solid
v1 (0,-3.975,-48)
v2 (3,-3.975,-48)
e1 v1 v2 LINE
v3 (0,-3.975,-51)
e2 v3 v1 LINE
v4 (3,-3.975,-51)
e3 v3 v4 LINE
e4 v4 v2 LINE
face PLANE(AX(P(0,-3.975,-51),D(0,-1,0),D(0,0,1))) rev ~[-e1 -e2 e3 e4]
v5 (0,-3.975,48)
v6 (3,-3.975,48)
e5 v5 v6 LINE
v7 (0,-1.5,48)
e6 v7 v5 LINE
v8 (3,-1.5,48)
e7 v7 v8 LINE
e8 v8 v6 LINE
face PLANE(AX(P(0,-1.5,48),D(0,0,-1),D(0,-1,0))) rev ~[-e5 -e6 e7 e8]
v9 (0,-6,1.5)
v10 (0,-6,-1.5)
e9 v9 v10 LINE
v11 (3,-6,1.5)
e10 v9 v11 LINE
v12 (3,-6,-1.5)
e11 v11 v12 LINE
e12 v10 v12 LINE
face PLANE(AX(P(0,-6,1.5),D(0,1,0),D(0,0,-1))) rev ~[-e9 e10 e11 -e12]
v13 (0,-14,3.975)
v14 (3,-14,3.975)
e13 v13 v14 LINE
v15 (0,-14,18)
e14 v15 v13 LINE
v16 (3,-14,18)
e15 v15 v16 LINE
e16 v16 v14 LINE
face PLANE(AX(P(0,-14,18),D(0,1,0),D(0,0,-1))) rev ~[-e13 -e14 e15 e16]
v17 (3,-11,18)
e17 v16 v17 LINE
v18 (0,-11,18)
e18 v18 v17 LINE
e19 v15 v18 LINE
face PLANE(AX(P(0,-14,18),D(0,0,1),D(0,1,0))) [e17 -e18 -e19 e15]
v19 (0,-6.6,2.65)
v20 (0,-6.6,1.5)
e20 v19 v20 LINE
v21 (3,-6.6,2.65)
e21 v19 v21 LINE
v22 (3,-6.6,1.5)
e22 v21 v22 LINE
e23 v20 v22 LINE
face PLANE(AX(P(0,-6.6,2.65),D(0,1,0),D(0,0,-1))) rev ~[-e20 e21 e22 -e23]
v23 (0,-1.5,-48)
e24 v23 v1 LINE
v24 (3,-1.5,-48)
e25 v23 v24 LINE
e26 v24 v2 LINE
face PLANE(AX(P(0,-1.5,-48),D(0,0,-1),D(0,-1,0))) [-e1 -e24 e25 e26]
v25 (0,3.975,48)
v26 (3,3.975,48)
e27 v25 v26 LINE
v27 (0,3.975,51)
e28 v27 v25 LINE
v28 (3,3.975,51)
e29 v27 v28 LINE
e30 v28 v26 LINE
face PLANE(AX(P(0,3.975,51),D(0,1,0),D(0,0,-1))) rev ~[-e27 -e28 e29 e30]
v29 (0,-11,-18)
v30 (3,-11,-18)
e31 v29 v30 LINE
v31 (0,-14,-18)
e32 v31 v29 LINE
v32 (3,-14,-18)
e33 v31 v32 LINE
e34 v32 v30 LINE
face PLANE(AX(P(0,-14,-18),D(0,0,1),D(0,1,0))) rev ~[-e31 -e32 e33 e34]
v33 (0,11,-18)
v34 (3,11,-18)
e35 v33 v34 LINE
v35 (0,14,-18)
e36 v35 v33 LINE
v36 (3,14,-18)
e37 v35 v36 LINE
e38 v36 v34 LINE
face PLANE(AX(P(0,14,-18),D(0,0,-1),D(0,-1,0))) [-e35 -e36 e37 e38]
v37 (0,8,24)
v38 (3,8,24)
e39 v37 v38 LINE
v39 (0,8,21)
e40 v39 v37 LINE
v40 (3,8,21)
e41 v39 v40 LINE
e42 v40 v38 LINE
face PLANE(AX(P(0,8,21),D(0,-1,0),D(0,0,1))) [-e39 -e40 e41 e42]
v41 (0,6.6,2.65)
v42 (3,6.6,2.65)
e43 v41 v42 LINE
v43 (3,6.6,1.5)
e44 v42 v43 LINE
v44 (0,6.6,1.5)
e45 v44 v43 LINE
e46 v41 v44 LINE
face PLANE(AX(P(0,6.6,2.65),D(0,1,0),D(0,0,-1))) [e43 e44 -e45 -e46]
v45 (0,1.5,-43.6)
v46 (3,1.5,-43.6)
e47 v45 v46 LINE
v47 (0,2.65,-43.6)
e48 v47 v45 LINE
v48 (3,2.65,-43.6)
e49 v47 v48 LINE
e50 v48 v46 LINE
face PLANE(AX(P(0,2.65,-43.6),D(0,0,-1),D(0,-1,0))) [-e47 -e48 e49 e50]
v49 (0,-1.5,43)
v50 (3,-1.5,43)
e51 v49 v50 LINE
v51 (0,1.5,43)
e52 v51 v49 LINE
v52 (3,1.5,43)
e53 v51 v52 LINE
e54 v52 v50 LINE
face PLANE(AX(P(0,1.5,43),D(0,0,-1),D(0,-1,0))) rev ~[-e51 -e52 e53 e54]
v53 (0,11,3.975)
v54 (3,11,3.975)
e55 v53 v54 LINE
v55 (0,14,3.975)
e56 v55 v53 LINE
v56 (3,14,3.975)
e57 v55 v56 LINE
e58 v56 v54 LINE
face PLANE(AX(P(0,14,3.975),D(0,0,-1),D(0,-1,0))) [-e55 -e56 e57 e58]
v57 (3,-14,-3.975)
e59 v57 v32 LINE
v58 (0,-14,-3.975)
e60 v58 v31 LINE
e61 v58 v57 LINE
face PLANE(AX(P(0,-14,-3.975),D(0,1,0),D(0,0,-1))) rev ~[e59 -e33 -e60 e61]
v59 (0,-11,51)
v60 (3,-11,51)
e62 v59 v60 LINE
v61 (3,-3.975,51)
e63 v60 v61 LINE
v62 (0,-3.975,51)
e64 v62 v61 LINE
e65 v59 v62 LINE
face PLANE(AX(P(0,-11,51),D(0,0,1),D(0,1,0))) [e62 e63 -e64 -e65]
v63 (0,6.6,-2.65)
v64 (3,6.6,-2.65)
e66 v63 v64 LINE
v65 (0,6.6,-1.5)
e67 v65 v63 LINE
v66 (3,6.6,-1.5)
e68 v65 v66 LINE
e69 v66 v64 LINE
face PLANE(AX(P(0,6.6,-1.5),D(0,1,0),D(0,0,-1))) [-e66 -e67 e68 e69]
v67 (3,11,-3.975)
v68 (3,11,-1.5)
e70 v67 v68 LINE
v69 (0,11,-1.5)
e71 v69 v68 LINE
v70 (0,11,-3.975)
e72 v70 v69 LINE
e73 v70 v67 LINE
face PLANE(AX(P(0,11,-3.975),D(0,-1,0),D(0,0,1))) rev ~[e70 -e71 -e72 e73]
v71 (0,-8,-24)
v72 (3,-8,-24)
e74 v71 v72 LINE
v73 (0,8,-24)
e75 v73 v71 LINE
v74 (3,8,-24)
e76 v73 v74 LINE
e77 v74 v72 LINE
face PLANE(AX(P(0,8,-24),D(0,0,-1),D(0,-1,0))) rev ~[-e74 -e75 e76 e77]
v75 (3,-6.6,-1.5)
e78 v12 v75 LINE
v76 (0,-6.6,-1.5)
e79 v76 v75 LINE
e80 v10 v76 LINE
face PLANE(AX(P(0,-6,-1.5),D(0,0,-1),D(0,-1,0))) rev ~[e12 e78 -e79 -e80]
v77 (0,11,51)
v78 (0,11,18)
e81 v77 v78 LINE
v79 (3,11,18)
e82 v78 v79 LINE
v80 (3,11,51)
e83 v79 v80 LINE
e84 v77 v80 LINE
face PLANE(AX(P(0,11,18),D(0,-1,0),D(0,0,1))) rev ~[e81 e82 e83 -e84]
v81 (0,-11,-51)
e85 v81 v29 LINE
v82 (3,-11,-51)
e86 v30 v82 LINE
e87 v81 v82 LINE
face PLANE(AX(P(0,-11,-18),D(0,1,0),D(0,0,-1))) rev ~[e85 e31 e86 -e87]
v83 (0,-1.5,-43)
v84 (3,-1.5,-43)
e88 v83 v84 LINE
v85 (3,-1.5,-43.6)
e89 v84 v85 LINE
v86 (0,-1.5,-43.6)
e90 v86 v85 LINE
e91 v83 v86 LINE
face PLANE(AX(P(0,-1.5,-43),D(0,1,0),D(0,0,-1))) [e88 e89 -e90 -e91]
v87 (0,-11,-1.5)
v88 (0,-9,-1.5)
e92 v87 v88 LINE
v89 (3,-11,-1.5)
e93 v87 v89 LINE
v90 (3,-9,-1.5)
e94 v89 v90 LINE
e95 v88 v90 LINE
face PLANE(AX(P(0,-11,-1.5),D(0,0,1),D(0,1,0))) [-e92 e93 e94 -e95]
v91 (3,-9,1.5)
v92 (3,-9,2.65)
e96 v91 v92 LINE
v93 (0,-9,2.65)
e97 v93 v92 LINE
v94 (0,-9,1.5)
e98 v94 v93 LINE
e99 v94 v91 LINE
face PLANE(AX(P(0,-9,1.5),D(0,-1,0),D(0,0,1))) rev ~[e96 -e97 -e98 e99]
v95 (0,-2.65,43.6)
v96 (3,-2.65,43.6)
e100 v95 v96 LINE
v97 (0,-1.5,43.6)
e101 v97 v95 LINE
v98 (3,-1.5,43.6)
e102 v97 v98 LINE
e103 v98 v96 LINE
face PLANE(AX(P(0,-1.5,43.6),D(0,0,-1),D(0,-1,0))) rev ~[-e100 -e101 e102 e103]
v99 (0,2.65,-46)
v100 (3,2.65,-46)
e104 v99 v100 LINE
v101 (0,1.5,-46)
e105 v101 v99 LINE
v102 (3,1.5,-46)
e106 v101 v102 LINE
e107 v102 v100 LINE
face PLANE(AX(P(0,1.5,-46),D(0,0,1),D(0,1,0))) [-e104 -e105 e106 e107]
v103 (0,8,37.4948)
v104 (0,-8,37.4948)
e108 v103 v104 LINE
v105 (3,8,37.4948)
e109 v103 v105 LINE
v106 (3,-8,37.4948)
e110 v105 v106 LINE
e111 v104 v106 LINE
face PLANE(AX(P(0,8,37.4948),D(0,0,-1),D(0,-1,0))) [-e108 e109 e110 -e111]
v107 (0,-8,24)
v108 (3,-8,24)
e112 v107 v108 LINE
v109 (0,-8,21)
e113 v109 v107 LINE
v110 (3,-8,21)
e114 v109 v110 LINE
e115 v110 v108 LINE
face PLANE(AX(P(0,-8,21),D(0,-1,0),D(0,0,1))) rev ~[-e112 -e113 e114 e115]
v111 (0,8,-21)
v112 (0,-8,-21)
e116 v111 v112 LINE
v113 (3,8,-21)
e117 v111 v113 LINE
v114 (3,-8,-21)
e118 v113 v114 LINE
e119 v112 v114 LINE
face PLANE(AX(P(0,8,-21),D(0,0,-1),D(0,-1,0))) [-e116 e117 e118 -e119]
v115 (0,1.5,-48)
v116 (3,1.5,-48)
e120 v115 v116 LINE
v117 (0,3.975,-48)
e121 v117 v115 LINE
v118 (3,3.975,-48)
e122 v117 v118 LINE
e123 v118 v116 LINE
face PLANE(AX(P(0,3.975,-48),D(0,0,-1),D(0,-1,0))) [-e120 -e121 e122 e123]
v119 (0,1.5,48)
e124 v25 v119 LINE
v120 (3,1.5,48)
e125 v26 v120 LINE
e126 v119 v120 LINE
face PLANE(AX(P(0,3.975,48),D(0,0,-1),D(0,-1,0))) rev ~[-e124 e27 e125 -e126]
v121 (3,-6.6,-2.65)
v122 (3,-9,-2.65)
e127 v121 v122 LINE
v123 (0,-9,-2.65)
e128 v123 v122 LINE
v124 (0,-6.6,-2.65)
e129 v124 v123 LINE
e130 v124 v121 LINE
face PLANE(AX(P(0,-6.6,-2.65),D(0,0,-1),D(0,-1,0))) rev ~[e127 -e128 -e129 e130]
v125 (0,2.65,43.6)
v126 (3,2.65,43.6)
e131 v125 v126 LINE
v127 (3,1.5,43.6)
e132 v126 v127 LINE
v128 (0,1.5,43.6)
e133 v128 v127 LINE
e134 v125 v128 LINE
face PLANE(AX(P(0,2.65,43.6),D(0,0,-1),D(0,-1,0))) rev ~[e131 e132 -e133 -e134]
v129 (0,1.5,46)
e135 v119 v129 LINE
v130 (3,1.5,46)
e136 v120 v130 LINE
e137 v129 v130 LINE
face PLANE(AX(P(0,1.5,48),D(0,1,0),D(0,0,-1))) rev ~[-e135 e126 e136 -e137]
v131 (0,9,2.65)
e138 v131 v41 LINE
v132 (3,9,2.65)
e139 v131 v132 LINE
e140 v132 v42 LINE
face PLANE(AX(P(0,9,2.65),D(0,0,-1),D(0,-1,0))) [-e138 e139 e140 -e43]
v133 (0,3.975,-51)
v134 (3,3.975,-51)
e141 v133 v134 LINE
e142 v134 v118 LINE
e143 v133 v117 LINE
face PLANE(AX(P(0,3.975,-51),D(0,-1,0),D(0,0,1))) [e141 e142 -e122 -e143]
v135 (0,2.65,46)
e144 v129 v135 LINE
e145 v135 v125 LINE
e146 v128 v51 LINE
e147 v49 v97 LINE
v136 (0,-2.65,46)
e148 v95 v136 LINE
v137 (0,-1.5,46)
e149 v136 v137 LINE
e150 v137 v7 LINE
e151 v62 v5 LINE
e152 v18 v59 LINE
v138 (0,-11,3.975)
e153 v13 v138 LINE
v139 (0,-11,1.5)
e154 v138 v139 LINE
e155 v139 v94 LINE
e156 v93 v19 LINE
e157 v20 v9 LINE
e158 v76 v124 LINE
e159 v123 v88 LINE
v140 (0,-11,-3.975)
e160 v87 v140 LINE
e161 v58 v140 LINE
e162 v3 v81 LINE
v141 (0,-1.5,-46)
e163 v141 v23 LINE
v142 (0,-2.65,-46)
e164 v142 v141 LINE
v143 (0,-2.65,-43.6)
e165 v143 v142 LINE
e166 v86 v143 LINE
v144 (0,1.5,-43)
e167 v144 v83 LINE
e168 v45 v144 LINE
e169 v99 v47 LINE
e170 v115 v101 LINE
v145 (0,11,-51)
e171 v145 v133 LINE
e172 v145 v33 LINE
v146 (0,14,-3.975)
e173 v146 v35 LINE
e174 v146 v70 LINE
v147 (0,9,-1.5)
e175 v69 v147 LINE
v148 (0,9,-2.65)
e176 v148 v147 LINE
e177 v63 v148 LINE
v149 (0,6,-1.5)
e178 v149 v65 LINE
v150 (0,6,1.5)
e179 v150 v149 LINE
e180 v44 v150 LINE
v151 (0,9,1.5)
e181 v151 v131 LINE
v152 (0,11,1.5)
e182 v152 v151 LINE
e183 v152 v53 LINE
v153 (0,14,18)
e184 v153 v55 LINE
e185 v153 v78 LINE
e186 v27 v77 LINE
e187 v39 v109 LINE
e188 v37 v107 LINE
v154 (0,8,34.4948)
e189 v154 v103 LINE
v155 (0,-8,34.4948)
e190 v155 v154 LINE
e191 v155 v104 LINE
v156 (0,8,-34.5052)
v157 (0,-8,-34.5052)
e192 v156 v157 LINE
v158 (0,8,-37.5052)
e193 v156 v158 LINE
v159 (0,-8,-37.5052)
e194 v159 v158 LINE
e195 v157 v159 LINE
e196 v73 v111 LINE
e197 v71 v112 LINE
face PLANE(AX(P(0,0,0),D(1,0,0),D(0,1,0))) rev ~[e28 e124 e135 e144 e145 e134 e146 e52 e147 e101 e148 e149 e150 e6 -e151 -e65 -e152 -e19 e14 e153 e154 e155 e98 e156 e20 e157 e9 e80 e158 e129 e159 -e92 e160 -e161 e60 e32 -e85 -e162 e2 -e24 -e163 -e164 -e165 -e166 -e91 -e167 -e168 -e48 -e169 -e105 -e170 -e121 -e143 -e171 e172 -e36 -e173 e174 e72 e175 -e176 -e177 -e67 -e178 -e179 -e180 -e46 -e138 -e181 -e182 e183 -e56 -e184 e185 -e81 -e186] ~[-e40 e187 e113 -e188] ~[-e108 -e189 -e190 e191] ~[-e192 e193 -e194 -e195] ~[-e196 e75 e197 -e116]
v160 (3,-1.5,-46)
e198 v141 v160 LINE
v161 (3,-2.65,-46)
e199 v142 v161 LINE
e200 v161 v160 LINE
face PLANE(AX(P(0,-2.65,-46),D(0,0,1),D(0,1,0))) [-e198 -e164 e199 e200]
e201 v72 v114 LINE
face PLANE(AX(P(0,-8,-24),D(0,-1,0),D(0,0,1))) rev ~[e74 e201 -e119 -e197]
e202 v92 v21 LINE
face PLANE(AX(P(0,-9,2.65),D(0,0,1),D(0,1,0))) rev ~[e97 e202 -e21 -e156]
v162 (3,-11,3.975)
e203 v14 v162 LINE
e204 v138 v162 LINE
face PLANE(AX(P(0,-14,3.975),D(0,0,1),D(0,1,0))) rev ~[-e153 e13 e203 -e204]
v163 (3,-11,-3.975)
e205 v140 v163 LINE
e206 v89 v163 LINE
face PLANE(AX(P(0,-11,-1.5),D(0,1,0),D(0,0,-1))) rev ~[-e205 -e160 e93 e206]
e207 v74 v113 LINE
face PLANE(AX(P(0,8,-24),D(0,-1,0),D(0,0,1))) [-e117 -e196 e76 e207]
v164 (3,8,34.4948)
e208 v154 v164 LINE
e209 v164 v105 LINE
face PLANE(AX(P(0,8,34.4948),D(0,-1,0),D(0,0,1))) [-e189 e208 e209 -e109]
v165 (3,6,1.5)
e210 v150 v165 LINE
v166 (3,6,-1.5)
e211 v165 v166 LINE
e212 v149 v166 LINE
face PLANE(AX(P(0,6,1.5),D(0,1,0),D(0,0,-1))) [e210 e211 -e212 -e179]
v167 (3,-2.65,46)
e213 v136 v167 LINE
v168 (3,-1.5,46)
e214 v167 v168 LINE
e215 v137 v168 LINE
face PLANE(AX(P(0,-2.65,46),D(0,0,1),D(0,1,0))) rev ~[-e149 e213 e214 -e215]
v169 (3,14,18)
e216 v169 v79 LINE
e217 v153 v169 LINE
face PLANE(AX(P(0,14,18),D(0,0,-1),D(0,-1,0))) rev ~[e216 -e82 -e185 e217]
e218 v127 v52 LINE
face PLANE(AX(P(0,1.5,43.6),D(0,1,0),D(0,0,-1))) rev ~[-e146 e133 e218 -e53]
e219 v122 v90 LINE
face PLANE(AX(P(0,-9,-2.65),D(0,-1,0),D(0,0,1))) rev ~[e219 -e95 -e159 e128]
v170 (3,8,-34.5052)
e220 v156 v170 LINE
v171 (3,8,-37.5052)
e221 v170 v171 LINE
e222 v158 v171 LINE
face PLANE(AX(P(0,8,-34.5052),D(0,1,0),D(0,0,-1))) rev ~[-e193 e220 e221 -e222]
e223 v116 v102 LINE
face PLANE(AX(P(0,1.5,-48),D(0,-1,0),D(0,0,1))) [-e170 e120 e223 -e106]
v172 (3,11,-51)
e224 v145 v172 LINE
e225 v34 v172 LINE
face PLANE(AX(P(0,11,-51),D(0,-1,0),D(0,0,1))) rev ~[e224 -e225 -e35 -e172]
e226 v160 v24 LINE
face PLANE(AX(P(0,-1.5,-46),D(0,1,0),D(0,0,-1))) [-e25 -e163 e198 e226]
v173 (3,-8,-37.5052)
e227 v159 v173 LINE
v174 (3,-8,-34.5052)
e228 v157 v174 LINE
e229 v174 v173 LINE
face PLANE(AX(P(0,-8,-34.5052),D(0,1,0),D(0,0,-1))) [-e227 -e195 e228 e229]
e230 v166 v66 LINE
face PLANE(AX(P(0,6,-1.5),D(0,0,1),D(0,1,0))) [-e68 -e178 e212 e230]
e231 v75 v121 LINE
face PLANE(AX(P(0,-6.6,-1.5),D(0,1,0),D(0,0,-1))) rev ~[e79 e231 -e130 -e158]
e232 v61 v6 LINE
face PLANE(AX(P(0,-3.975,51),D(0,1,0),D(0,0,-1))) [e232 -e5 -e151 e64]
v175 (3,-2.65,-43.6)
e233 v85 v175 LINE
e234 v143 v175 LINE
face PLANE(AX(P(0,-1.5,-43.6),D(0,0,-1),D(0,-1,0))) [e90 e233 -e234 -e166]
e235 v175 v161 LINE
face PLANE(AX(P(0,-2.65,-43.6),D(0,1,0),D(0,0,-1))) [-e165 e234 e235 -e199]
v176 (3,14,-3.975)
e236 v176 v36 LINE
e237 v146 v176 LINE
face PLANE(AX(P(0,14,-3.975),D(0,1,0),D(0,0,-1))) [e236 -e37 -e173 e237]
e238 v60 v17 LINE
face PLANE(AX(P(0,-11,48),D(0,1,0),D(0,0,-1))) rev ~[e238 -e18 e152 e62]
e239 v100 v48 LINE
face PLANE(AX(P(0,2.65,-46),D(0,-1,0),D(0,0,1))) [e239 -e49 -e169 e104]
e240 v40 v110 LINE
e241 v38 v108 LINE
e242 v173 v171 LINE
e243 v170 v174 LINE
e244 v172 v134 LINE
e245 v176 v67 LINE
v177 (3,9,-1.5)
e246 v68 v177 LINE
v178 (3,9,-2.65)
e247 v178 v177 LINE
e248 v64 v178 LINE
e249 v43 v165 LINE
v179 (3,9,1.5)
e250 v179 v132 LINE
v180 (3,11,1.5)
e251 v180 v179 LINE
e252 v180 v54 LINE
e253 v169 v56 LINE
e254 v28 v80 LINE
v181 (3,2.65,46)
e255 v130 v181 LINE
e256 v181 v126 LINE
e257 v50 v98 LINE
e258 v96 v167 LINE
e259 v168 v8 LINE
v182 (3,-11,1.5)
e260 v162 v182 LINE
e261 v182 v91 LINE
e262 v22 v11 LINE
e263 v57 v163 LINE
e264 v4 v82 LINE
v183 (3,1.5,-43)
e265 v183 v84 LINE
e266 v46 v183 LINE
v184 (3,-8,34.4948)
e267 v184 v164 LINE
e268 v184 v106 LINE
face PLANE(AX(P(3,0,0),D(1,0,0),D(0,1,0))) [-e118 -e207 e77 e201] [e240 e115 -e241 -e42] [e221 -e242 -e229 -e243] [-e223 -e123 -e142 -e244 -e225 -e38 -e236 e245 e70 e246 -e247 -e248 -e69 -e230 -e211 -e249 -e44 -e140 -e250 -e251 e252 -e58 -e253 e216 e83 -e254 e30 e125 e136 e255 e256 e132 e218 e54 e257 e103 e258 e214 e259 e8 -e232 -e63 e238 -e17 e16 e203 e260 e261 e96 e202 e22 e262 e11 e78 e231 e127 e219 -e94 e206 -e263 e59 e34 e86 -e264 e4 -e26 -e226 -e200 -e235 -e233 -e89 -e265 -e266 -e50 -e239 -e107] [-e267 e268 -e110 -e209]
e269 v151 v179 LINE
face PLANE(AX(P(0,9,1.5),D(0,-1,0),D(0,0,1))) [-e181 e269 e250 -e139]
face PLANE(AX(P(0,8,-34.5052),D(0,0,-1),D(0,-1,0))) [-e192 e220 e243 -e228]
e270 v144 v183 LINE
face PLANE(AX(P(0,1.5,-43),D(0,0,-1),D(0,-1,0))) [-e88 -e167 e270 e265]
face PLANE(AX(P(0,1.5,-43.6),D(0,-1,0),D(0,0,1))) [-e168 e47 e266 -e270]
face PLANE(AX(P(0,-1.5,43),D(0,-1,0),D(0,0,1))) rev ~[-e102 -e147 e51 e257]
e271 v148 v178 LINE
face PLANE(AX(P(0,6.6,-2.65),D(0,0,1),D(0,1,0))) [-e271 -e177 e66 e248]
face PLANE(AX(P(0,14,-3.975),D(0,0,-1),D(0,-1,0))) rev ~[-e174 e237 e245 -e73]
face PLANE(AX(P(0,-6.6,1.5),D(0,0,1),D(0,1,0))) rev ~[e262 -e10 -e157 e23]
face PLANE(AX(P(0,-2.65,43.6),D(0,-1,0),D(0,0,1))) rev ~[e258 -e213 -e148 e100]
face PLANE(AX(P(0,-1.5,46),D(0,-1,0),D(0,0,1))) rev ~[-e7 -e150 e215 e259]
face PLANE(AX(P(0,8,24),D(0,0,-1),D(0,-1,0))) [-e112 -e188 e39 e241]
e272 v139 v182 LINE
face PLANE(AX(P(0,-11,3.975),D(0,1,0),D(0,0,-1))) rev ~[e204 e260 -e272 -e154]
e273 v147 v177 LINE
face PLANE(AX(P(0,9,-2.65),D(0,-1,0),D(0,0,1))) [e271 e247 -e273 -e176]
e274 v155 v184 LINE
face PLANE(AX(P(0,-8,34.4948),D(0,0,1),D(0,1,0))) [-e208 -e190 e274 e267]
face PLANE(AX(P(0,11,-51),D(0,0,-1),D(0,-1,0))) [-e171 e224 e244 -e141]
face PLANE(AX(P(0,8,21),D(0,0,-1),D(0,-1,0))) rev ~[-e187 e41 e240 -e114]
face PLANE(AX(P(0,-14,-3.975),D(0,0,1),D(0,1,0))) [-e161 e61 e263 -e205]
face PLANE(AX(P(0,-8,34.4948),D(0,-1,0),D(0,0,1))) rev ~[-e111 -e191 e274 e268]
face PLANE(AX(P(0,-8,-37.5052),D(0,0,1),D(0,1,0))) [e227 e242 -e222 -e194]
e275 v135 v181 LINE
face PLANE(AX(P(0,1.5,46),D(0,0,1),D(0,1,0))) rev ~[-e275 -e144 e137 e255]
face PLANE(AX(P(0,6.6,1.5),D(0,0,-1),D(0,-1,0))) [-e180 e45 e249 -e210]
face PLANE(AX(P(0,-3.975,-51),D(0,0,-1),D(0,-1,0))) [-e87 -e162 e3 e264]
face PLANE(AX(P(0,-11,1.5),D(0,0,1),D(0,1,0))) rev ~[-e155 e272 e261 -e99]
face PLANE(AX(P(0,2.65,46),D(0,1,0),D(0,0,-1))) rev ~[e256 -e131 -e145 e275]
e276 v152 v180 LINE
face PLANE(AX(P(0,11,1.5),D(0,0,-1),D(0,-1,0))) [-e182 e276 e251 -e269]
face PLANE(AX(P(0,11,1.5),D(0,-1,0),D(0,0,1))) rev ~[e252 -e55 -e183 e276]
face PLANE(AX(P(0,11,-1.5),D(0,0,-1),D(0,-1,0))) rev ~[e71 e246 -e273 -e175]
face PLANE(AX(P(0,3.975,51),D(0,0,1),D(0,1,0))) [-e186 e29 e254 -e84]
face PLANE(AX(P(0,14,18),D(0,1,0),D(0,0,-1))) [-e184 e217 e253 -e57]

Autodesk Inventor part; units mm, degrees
ref_plane "YZ Plane" through (0, 0, 0) normal (1, 0, 0) x (0, 1, 0)
ref_plane "XZ Plane" through (0, 0, 0) normal (0, 1, 0) x (-1, 0, 0)
ref_plane "XY Plane" through (0, 0, 0) normal (0, 0, 1) x (1, 0, 0)
sketch "Sketch2" plane through (0, 0, 0) normal (1, 0, 0) x (0, 1, 0)
  line L0 (14, -51) -> (11, -51)
  line L1 (-14, 51) -> (-11, 51)
  line L2 (14, 51) -> (14, 48)
  line L3 (-14, 51) -> (-14, 48)
  line L4 (14, -48) -> (11, -48)
  line L5 (11, -51) -> (11, -48)
  line L6 (0, -71.4) -> (0, 71.4) construction
  line L7 (3.975, -51) -> (3.975, -48)
  line L8 (-3.975, -51) -> (-3.975, -48)
  line L9 (1.5, -48) -> (1.5, -46)
  line L10 (1.5, -46) -> (2.65, -46)
  line L11 (2.65, -46) -> (2.65, -43.6)
  line L12 (2.65, -43.6) -> (1.5, -43.6)
  line L13 (1.5, -43.6) -> (1.5, -43)
  line L14 (1.5, -43) -> (-1.5, -43)
  line L15 (-1.5, -43) -> (-1.5, -43.6)
  line L16 (-1.5, -43.6) -> (-2.65, -43.6)
  line L17 (-2.65, -43.6) -> (-2.65, -46)
  line L18 (-2.65, -46) -> (-1.5, -46)
  line L19 (-1.5, -46) -> (-1.5, -48)
  line L20 (11, -51) -> (-14, -51)
  line L21 (1.5, -48) -> (-14, -48)
  line L22 (3.975, -48) -> (1.5, -48)
  line L23 (11, -48) -> (3.975, -48)
  line L24 (-23.2, 0) -> (41.2, 0) construction
  line L25 (-11, -51) -> (-11, -48)
  line L26 (14, 48) -> (11, 48)
  line L27 (11, 51) -> (11, 48)
  line L28 (3.975, 51) -> (3.975, 48)
  line L29 (-3.975, 51) -> (-3.975, 48)
  line L30 (1.5, 48) -> (1.5, 46)
  line L31 (1.5, 46) -> (2.65, 46)
  line L32 (2.65, 46) -> (2.65, 43.6)
  line L33 (2.65, 43.6) -> (1.5, 43.6)
  line L34 (1.5, 43.6) -> (1.5, 43)
  line L35 (1.5, 43) -> (-1.5, 43)
  line L36 (-1.5, 43) -> (-1.5, 43.6)
  line L37 (-1.5, 43.6) -> (-2.65, 43.6)
  line L38 (-2.65, 43.6) -> (-2.65, 46)
  line L39 (-2.65, 46) -> (-1.5, 46)
  line L40 (-1.5, 46) -> (-1.5, 48)
  line L41 (1.5, 48) -> (-14, 48)
  line L42 (3.975, 48) -> (1.5, 48)
  line L43 (11, 48) -> (3.975, 48)
  line L44 (-11, 51) -> (-11, 48)
  line L45 (3.975, 51) -> (11, 51)
  line L46 (-3.975, 51) -> (3.975, 51)
  line L47 (11, -48) -> (11, -1.5)
  line L48 (-11, 48) -> (-11, 18)
  line L49 (14, 21) -> (11, 21) construction
  line L50 (14, -21) -> (11, -21) construction
  line L51 (14, 18) -> (11, 18)
  line L52 (14, -18) -> (11, -18)
  line L53 (14, -3.975) -> (11, -3.975)
  line L54 (14, 3.975) -> (11, 3.975)
  line L55 (11, 1.5) -> (9, 1.5)
  line L56 (9, 1.5) -> (9, 2.65)
  line L57 (9, 2.65) -> (6.6, 2.65)
  line L58 (6.6, 2.65) -> (6.6, 1.5)
  line L59 (6.6, 1.5) -> (6, 1.5)
  line L60 (6, 1.5) -> (6, -1.5)
  line L61 (6, -1.5) -> (6.6, -1.5)
  line L62 (6.6, -1.5) -> (6.6, -2.65)
  line L63 (6.6, -2.65) -> (9, -2.65)
  line L64 (9, -2.65) -> (9, -1.5)
  line L65 (11, -1.5) -> (9, -1.5)
  line L66 (14, -3.975) -> (14, -18)
  line L67 (14, 3.975) -> (14, -3.975)
  line L68 (11, 1.5) -> (11, 48)
  line L69 (11, -1.5) -> (11, 1.5)
  line L70 (-14, 18) -> (-11, 18)
  line L71 (-14, -18) -> (-11, -18)
  line L72 (-14, -3.975) -> (-11, -3.975)
  line L73 (-14, 3.975) -> (-11, 3.975)
  line L74 (-11, 1.5) -> (-9, 1.5)
  line L75 (-9, 1.5) -> (-9, 2.65)
  line L76 (-9, 2.65) -> (-6.6, 2.65)
  line L77 (-6.6, 2.65) -> (-6.6, 1.5)
  line L78 (-6.6, 1.5) -> (-6, 1.5)
  line L79 (-6, 1.5) -> (-6, -1.5)
  line L80 (-6, -1.5) -> (-6.6, -1.5)
  line L81 (-6.6, -1.5) -> (-6.6, -2.65)
  line L82 (-6.6, -2.65) -> (-9, -2.65)
  line L83 (-9, -2.65) -> (-9, -1.5)
  line L84 (-11, -1.5) -> (-9, -1.5)
  line L85 (-14, 3.975) -> (-14, -3.975)
  line L86 (-14, -3.975) -> (-14, -18)
  line L87 (-14, 18) -> (-14, 3.975)
  line L88 (-14, -18) -> (-14, -51)
  line L89 (14, -18) -> (14, -51)
  line L90 (14, 18) -> (14, 3.975)
  line L91 (-11, -3.975) -> (-11, -18)
  line L92 (-11, -18) -> (-11, -48)
  line L93 (-11, 18) -> (-11, 3.975)
  line L94 (14, 48) -> (14, 18)
  line L95 (-14, 48) -> (-14, 18)
  line L96 (-11, 51) -> (-3.975, 51)
  line L97 (11, 51) -> (14, 51)
  line L98 (-11, 3.975) -> (-11, 1.5)
  line L99 (-11, 1.5) -> (-11, -1.5)
  line L100 (-11, -1.5) -> (-11, -3.975)
  line L101 (8, -34.5052) -> (8, -37.5052) projected
  line L102 (-8, -37.5052) -> (8, -37.5052) projected
  line L103 (-8, -34.5052) -> (-8, -37.5052) projected
  line L104 (8, -34.5052) -> (-8, -34.5052) projected
  line L105 (8, -24) -> (-8, -24) projected
  line L106 (-8, -24) -> (-8, -21) projected
  line L107 (8, -21) -> (-8, -21) projected
  line L108 (8, -24) -> (8, -21) projected
  line L109 (32, 21) -> (17, 21) projected
  line L110 (17, 21) -> (17, 24) projected
  line L111 (32, 24) -> (17, 24) projected
  line L112 (32, 21) -> (32, 24) projected
  line L113 (8, 21) -> (-8, 21) projected
  line L114 (-8, 21) -> (-8, 24) projected
  line L115 (8, 24) -> (-8, 24) projected
  line L116 (8, 21) -> (8, 24) projected
  line L117 (-8, 34.4948) -> (-8, 37.4948) projected
  line L118 (8, 37.4948) -> (-8, 37.4948) projected
  line L119 (8, 34.4948) -> (8, 37.4948) projected
  line L120 (-8, 34.4948) -> (8, 34.4948) projected
  point P0 (0, 0)
  dimension "d5" = 3
  dimension "d6" = 3
  dimension "d8" = 2.4
  dimension "d9" = 5.3
  dimension "d10" = 3
  dimension "d11" = 2
  dimension "d12" = 5
  dimension "d13" = 7.95
  dimension "d14" = 28
  dimension "d15" = 102
  dimension "d17" = 42
  dimension "d18" = 3
  dimension "d19" = 3
  dimension "d20" = 2
  dimension "d21" = 5
  dimension "d22" = 2.4
  dimension "d23" = 5.3
  dimension "d24" = 3
  dimension "d25" = 7.95
extrude "Extrusion1" add sketch "Sketch2" along normal blind 3 contours L20 L7 L23 L5 | L23 L22 L9 L10 L11 L12 L13 L14 L15 L16 L17 L18 L19 L21 L92 L91 L100 L84 L83 L82 L81 L80 L79 L78 L77 L76 L75 L74 L98 L93 L48 L41 L40 L39 L38 L37 L36 L35 L34 L33 L32 L31 L30 L42 L43 L68 L55 L56 L57 L58 L59 L60 L61 L62 L63 L64 L65 L47 | L52 L47 L53 L66 | L20 L25 L21 L8 | L54 L68 L51 L90 | L71 L86 L72 L91 | L43 L28 L45 L27 | L87 L70 L93 L73 | L29 L41 L44 L96
equation "\"d13\" = 1.5 * d9"
equation "\"d25\" = 1.5 * d23"
properties part number "Bearing-Side"
